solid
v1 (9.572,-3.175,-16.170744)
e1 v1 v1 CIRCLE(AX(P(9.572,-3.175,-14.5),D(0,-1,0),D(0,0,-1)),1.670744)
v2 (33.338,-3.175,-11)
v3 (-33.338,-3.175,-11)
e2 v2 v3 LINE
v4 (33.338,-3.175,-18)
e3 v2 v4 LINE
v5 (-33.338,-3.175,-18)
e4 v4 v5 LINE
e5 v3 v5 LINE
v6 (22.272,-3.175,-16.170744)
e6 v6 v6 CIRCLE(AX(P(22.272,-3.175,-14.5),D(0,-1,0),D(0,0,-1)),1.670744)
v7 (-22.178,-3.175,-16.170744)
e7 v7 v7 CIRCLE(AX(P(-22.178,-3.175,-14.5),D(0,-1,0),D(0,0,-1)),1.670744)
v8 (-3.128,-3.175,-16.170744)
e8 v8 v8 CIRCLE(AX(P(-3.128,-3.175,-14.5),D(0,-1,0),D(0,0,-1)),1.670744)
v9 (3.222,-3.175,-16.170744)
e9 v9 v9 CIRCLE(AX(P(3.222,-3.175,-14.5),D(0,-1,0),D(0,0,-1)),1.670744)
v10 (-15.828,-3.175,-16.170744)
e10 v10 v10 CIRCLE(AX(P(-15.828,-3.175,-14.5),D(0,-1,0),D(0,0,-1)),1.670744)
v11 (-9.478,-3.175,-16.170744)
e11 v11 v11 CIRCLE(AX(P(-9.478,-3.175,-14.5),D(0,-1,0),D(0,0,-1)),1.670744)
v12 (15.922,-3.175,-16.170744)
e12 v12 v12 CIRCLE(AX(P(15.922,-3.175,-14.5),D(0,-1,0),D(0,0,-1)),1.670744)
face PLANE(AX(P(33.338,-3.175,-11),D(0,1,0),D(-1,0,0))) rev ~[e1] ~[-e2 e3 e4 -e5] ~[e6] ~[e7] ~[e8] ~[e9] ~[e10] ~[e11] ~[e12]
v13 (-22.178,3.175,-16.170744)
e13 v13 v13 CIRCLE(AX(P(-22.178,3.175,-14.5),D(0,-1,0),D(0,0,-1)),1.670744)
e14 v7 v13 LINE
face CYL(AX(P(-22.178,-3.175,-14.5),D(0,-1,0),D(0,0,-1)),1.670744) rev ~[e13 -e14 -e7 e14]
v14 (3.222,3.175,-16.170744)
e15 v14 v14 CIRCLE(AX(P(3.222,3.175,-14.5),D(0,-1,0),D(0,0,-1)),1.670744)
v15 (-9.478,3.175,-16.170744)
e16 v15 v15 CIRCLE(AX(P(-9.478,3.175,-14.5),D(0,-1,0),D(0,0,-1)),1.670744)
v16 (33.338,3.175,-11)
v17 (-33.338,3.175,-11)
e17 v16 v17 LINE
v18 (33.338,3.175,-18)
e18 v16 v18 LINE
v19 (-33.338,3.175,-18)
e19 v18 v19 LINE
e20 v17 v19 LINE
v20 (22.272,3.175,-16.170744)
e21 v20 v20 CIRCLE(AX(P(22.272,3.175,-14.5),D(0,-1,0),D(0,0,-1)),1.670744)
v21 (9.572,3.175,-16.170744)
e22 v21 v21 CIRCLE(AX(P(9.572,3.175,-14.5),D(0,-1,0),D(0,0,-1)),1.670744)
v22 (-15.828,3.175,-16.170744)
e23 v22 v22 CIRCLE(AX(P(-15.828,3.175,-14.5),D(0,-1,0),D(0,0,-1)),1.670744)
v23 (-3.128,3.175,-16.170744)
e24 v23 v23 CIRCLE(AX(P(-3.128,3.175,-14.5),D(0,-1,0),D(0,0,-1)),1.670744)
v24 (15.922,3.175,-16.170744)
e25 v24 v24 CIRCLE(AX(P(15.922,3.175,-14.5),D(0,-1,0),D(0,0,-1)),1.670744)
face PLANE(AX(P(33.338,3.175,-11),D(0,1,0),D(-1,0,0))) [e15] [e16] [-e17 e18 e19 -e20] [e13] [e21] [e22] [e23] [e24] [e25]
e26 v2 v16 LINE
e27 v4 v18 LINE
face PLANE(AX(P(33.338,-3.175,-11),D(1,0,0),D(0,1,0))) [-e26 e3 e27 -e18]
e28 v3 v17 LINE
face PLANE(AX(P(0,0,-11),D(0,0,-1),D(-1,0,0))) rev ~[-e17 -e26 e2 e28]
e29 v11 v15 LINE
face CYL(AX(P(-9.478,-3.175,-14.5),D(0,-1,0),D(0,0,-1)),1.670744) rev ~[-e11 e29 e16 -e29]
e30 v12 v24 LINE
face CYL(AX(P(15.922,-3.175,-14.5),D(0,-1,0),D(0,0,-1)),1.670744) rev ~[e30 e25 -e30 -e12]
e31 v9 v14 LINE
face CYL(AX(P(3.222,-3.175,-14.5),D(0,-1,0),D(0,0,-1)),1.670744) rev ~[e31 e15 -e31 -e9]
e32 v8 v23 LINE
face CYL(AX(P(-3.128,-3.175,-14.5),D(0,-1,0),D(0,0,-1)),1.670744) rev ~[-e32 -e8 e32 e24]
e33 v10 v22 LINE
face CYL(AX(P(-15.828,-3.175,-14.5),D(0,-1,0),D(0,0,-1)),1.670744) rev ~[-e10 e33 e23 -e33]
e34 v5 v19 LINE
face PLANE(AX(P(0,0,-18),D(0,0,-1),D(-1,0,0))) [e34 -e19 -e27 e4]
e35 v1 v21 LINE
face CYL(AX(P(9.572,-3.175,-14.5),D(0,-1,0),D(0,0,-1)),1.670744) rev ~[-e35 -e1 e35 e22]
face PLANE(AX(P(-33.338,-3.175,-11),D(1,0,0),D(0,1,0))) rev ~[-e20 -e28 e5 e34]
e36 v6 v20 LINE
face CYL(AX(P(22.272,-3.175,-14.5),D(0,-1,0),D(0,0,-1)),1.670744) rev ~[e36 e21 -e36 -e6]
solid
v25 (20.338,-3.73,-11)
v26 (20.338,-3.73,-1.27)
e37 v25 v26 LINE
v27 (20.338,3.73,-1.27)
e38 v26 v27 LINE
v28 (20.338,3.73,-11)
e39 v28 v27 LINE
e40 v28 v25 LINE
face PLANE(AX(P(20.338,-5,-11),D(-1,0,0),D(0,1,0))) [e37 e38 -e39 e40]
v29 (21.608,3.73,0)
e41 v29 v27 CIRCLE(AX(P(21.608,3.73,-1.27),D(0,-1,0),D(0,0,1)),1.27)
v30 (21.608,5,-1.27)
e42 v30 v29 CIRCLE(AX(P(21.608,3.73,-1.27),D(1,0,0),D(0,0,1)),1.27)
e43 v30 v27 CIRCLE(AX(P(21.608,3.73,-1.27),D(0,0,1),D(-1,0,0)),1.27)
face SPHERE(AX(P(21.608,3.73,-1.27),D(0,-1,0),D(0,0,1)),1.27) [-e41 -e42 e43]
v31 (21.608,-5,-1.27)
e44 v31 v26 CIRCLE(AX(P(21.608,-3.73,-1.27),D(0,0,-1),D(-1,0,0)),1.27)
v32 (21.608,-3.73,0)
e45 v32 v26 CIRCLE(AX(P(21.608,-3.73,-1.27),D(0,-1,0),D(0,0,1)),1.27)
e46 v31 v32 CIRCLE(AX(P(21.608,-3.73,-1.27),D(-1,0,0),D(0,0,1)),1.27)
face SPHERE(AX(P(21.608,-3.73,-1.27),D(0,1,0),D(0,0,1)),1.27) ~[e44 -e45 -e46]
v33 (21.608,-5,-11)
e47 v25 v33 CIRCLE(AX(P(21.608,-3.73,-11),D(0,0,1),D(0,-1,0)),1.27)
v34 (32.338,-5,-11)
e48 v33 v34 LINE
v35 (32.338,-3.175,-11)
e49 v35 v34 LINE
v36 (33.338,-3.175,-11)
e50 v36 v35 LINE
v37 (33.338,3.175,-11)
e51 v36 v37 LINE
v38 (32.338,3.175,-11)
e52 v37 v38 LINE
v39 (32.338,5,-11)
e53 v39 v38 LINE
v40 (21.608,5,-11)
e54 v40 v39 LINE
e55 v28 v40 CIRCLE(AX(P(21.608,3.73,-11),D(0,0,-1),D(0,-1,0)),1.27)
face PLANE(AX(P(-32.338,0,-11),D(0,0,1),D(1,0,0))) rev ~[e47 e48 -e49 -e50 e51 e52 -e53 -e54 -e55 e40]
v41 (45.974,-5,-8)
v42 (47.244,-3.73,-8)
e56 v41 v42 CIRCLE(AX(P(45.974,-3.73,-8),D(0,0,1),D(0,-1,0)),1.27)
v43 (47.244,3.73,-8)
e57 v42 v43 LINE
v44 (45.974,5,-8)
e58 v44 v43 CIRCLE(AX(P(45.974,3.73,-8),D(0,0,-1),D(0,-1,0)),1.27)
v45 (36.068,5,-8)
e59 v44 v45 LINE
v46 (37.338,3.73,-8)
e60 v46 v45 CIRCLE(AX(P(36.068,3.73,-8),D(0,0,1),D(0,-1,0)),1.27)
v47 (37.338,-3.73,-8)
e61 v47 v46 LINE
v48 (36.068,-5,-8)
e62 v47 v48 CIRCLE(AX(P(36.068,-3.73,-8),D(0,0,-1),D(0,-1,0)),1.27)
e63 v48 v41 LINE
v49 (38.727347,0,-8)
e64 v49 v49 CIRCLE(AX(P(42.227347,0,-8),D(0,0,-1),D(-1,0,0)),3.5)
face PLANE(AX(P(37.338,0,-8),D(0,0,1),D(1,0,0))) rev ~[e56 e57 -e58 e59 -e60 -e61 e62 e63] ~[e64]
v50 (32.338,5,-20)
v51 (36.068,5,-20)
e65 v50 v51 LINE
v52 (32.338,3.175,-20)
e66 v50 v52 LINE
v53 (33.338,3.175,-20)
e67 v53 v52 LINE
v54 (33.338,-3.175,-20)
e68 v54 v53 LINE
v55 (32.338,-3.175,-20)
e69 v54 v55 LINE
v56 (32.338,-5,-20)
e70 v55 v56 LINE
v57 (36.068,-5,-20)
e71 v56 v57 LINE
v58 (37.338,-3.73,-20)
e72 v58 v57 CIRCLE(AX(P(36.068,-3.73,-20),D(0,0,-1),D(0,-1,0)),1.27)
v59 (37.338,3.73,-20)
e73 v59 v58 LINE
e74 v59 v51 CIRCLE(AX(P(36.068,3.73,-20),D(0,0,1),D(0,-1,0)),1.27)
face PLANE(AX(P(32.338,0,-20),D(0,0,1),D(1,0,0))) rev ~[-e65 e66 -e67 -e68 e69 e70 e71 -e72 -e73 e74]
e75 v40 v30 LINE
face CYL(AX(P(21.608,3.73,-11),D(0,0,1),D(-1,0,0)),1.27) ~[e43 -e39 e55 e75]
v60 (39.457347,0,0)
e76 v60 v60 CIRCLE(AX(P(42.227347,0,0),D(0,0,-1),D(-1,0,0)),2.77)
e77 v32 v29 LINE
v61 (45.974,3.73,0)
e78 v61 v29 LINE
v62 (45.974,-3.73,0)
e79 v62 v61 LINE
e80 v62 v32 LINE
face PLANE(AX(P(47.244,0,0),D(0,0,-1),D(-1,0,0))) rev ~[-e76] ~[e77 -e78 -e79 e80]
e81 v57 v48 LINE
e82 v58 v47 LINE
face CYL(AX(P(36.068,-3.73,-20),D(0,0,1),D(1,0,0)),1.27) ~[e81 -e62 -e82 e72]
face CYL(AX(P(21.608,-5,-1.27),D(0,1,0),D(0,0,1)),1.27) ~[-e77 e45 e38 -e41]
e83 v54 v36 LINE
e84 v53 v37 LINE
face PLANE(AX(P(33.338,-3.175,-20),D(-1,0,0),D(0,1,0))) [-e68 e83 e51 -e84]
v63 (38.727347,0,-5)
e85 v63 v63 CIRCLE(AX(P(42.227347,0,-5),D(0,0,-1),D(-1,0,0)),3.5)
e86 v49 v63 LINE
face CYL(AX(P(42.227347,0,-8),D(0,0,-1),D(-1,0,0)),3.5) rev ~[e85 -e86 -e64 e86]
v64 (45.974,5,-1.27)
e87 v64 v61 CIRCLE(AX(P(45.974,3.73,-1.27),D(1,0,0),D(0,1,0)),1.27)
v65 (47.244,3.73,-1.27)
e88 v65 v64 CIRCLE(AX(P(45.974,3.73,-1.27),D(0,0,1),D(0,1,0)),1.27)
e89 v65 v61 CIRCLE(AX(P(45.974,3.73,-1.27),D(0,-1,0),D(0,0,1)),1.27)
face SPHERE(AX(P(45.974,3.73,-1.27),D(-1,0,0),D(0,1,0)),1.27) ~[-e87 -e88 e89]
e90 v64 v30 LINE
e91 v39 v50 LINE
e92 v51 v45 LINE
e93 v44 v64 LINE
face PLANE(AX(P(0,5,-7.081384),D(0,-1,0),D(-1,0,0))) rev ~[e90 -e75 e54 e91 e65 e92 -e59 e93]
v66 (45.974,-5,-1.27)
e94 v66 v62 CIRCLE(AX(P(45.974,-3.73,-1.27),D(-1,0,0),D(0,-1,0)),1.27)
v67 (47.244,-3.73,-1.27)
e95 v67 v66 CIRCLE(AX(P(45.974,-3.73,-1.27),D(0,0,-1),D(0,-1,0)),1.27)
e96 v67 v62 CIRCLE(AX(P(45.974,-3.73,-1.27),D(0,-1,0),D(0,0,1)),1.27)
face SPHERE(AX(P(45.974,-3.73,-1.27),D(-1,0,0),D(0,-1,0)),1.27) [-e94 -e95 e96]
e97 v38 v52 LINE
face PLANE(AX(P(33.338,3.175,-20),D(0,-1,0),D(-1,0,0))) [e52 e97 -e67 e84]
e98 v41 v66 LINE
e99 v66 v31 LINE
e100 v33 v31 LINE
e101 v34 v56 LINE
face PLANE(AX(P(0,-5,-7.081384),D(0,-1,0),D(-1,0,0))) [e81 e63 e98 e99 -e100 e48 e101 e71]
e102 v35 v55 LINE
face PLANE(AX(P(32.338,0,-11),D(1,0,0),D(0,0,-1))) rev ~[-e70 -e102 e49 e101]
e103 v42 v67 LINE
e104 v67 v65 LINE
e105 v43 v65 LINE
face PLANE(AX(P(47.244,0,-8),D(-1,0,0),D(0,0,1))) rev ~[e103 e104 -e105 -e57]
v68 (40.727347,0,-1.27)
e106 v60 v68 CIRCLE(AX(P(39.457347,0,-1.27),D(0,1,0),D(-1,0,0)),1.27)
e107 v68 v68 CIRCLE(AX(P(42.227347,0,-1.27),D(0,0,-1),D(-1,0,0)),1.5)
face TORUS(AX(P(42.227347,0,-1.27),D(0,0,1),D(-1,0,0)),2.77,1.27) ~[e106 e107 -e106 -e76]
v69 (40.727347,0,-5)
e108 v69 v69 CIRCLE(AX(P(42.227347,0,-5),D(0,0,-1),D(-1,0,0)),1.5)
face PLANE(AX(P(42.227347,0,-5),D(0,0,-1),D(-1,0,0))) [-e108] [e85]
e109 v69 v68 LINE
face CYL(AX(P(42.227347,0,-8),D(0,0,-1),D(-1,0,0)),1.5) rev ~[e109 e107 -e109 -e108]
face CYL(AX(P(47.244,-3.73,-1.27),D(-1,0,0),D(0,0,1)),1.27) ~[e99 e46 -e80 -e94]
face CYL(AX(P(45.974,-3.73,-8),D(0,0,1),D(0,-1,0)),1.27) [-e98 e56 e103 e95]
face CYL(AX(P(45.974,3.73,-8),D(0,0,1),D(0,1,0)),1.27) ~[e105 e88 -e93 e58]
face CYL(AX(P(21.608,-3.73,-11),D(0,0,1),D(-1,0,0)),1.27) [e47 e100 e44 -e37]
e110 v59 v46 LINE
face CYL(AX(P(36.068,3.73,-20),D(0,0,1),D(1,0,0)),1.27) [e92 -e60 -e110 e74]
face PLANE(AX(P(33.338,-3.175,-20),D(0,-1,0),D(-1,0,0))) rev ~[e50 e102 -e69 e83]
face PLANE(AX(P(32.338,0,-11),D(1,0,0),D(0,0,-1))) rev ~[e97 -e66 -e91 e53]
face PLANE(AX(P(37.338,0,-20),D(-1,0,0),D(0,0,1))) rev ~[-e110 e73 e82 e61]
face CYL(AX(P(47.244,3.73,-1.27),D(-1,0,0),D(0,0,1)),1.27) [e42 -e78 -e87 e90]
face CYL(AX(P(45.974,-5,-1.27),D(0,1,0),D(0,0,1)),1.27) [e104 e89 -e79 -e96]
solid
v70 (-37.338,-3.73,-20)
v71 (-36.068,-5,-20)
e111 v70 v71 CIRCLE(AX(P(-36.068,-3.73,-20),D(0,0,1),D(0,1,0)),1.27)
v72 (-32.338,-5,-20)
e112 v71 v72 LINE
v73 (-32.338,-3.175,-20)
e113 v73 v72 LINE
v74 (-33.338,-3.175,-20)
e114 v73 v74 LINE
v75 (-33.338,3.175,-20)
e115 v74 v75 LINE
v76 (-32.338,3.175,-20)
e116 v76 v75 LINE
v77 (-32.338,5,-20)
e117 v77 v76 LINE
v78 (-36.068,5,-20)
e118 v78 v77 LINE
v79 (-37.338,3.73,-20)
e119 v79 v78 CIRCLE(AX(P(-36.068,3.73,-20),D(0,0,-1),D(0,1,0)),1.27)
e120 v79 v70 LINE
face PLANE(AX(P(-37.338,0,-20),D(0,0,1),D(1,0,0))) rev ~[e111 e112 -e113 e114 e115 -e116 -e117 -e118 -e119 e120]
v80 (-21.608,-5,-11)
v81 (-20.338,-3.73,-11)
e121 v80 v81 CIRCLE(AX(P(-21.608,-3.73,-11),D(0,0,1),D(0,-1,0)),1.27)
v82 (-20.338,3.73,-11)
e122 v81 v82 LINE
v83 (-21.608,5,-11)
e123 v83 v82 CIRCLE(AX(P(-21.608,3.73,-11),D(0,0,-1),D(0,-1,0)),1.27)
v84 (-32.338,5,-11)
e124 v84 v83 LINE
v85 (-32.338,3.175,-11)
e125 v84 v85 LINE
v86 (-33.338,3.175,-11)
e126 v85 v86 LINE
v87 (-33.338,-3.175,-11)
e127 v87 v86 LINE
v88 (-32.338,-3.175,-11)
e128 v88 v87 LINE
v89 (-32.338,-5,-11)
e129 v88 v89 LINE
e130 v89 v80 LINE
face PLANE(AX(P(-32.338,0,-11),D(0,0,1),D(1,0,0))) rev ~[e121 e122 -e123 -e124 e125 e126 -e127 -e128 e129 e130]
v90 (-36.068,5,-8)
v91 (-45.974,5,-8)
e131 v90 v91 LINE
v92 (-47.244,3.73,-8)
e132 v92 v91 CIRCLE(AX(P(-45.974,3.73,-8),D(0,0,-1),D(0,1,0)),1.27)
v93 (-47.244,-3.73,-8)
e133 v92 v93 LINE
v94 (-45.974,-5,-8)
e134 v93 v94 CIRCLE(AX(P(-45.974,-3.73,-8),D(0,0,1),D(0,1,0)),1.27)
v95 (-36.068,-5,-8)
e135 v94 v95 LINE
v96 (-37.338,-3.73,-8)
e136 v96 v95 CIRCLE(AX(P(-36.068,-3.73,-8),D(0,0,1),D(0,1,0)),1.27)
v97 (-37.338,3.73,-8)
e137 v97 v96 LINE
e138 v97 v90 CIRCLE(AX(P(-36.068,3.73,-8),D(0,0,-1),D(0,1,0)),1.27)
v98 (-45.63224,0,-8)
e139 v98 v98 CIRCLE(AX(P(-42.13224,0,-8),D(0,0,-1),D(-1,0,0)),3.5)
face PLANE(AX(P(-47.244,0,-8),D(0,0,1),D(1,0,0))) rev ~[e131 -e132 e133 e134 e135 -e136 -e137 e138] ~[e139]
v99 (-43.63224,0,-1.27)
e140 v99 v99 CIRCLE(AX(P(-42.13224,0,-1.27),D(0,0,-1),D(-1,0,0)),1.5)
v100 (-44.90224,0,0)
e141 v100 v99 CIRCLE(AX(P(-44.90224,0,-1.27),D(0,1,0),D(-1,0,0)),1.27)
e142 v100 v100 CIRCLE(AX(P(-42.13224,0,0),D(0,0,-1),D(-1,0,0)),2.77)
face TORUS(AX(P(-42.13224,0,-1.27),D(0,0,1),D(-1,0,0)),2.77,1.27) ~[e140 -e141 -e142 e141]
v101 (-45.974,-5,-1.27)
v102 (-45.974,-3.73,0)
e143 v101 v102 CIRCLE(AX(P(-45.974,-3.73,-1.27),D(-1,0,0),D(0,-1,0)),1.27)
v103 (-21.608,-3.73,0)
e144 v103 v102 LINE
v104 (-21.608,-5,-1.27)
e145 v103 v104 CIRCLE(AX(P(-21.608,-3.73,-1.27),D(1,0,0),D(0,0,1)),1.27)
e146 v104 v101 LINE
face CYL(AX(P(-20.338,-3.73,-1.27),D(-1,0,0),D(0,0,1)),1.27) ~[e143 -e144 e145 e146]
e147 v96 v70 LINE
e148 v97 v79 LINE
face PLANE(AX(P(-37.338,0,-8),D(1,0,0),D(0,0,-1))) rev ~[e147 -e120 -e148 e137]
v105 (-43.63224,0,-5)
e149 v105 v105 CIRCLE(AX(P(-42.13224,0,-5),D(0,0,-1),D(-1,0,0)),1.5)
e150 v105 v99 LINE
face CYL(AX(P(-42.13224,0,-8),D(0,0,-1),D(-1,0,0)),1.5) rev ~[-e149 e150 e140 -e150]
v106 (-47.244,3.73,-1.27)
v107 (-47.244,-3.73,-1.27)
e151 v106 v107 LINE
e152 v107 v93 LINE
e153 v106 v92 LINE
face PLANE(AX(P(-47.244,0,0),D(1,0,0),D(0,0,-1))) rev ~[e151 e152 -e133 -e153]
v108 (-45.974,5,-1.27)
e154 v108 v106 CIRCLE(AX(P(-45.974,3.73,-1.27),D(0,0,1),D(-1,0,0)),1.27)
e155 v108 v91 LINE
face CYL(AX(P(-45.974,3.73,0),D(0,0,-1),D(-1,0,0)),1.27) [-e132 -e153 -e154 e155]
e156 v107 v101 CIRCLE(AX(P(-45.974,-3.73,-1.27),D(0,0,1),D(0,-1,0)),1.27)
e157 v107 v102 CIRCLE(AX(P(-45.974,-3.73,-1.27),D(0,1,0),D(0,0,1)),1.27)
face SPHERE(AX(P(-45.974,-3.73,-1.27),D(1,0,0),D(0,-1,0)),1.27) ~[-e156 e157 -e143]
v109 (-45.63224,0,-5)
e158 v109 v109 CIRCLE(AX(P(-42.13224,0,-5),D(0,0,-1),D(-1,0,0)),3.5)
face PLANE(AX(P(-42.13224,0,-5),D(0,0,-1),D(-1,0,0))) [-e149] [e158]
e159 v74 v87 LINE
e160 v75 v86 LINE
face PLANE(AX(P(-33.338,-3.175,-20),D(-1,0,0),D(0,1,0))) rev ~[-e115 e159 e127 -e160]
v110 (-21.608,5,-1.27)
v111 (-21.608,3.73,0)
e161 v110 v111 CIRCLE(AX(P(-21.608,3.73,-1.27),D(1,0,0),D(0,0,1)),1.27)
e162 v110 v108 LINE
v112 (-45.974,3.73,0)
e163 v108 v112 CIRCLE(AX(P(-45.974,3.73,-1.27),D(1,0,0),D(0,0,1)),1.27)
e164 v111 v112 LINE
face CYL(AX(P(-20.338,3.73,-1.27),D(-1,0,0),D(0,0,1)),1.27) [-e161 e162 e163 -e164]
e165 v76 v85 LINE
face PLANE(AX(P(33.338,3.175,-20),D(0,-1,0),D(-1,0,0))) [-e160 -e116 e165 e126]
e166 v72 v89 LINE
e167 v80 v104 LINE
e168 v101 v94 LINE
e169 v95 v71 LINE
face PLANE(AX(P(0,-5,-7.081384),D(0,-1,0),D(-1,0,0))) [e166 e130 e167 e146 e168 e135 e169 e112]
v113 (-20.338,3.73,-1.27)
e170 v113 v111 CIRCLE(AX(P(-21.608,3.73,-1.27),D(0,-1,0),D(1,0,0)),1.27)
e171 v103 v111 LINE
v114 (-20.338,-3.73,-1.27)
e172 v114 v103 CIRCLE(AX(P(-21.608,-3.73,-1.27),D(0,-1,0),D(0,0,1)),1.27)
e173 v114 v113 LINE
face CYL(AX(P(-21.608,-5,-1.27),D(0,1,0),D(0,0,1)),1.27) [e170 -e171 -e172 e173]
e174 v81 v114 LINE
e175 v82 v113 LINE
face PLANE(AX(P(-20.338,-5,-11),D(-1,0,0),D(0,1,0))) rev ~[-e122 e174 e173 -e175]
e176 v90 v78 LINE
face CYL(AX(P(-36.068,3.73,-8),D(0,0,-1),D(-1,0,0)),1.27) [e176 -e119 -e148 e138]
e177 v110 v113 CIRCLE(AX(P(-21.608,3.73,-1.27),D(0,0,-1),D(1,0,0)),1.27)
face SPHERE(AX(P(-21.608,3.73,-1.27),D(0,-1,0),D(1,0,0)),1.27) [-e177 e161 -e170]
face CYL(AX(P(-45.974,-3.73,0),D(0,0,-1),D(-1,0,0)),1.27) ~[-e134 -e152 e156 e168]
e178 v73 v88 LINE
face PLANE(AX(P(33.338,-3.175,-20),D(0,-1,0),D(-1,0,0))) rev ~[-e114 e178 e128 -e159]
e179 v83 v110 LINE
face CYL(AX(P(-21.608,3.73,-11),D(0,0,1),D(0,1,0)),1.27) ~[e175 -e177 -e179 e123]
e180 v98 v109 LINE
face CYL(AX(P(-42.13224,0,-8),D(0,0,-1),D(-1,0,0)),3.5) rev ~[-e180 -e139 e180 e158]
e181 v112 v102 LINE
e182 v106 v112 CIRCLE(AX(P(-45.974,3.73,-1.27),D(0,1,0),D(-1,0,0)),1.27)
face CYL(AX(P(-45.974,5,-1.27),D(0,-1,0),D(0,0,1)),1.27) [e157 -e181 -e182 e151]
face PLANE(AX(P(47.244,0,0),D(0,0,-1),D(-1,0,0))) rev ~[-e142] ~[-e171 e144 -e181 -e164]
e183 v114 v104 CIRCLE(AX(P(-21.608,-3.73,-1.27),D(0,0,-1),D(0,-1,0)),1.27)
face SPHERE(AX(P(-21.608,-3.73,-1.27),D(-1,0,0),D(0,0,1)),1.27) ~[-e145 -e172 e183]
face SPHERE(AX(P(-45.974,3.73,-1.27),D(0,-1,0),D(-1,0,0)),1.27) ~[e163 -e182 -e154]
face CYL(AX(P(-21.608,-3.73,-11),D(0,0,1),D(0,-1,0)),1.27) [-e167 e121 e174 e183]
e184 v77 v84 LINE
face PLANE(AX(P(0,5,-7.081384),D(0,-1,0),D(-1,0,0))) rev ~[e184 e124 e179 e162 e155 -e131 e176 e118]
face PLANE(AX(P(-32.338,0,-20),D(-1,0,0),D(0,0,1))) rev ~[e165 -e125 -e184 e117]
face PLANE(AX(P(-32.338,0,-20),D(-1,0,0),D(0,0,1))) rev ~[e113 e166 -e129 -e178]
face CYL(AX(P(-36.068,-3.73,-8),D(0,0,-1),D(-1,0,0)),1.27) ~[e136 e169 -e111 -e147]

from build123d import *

# Parameters (mm, degrees)
BOSS_EXTRUDE1_DEPTH = 5
SKETCH2_W           = 40.676
SKETCH2_H           = 10
CUT_EXTRUDE1_DEPTH  = 49.76469559
SKETCH3_R           = 1.5
CUT_EXTRUDE2_DEPTH  = 49.999954449
SKETCH3_3_R         = 3.5
SKETCH3_3_R_2       = 1.5
CUT_EXTRUDE3_DEPTH  = 3
SKETCH5_W           = 66.676
SKETCH5_H           = 6.35
CUT_EXTRUDE4_DEPTH  = 9
SKETCH6_W           = 66.676
SKETCH6_H           = 6.35
BOSS_EXTRUDE2_DEPTH = 7
SKETCH7_R           = 1.670743861
CUT_EXTRUDE5_DEPTH  = 52.950227728
FILLET1_R           = 1.27
FILLET2_R           = 1.27


with BuildPart() as part:
    # Sketch1 → Boss-Extrude1 (new, symmetric)
    with BuildSketch(Plane(origin=(0, 0, 0), x_dir=(1, 0, 0), z_dir=(0, 1, 0))):
        Polygon((47.244, 0), (-47.244, 0), (-47.244, 8), (-37.338, 8), (-37.338, 20), (-32.338, 20), (-32.338, 11), (32.338, 11), (32.338, 20), (37.338, 20), (37.338, 8), (47.244, 8), align=None)
    extrude(amount=BOSS_EXTRUDE1_DEPTH, both=True)

    # Sketch2 → Cut-Extrude1 (cut, through all)
    with BuildSketch(Plane(origin=(0, 0, -11), x_dir=(-1, 0, 0), z_dir=(0, 0, -1))):
        Rectangle(SKETCH2_W, SKETCH2_H)
    extrude(amount=-CUT_EXTRUDE1_DEPTH, mode=Mode.SUBTRACT)


with BuildPart() as cut_extrude1_piece_1:
    # of the separate pieces the step leaves, piece 1, a body of its own (cut_extrude1_pieces)
    add(part.part.solids().sort_by_distance((47.244, -5, 0))[0])


with BuildPart() as cut_extrude1_piece_2:
    # of the separate pieces the step leaves, piece 2, a body of its own (cut_extrude1_pieces)
    add(part.part.solids().sort_by_distance((-20.338, 5, 0))[0])


with BuildPart() as cut_extrude2_tool:
    # Sketch3 → Cut-Extrude2 (new, through all)
    with BuildSketch(Plane(origin=(0, 0, -8), x_dir=(-1, 0, 0), z_dir=(0, 0, -1))):
        with Locations((42.132240282, 0)):
            Circle(SKETCH3_R)
        with Locations((-42.227346919, 0)):
            Circle(SKETCH3_R)
    extrude(amount=-CUT_EXTRUDE2_DEPTH)


with BuildPart() as cut_extrude1_piece_1_1:
    add(cut_extrude1_piece_1.part)

    # Cut-Extrude2: cut by cut_extrude2_tool
    add(cut_extrude2_tool.part, mode=Mode.SUBTRACT)


with BuildPart() as cut_extrude1_piece_2_1:
    add(cut_extrude1_piece_2.part)

    # Cut-Extrude2: cut by cut_extrude2_tool
    add(cut_extrude2_tool.part, mode=Mode.SUBTRACT)


with BuildPart() as cut_extrude3_tool:
    # Sketch3<3> → Cut-Extrude3 (new body)
    # profile 1 of 2: a face of its own
    with BuildSketch(Plane(origin=(0, 0, -8), x_dir=(-1, 0, 0), z_dir=(0, 0, -1))):
        with Locations((-42.227346919, 0)):
            Circle(SKETCH3_3_R)
        with Locations((-42.227346919, 0)):
            Circle(SKETCH3_3_R_2, mode=Mode.SUBTRACT)
    # profile 2 of 2: a face of its own
    with BuildSketch(Plane(origin=(0, 0, -8), x_dir=(-1, 0, 0), z_dir=(0, 0, -1))):
        with Locations((42.132240282, 0)):
            Circle(SKETCH3_3_R)
    extrude(amount=-CUT_EXTRUDE3_DEPTH)


with BuildPart() as cut_extrude1_piece_1_2:
    add(cut_extrude1_piece_1_1.part)

    # Cut-Extrude3: cut by cut_extrude3_tool
    add(cut_extrude3_tool.part, mode=Mode.SUBTRACT)


with BuildPart() as cut_extrude1_piece_2_2:
    add(cut_extrude1_piece_2_1.part)

    # Cut-Extrude3: cut by cut_extrude3_tool
    add(cut_extrude3_tool.part, mode=Mode.SUBTRACT)


with BuildPart() as cut_extrude4_tool:
    # Sketch5 → Cut-Extrude4 (new body)
    with BuildSketch(Plane(origin=(0, 0, -20), x_dir=(-1, 0, 0), z_dir=(0, 0, -1))):
        Rectangle(SKETCH5_W, SKETCH5_H)
    extrude(amount=-CUT_EXTRUDE4_DEPTH)


with BuildPart() as cut_extrude1_piece_1_3:
    add(cut_extrude1_piece_1_2.part)

    # Cut-Extrude4: cut by cut_extrude4_tool
    add(cut_extrude4_tool.part, mode=Mode.SUBTRACT)

    # Fillet1
    fillet1_edges = [cut_extrude1_piece_1_3.edges().sort_by_distance(p)[0] for p in [
        (20.338, 0, 0),
        (33.791, -5, 0),
        (33.791, 5, 0),
        (47.244, 5, -4),
        (43.727346919, 0, 0),
        (37.338, 5, -14),
        (20.338, -5, -5.5),
        (47.244, -5, -4),
        (47.244, 0, 0),
        (37.338, -5, -14),
        (20.338, 5, -5.5),
    ]]
    fillet(fillet1_edges, radius=FILLET1_R)


with BuildPart() as cut_extrude1_piece_2_3:
    add(cut_extrude1_piece_2_2.part)

    # Cut-Extrude4: cut by cut_extrude4_tool
    add(cut_extrude4_tool.part, mode=Mode.SUBTRACT)

    # Fillet2
    fillet2_edges = [cut_extrude1_piece_2_3.edges().sort_by_distance(p)[0] for p in [
        (-37.338, -5, -14),
        (-33.791, -5, 0),
        (-47.244, -5, -4),
        (-47.244, 0, 0),
        (-20.338, 0, 0),
        (-20.338, 5, -5.5),
        (-37.338, 5, -14),
        (-20.338, -5, -5.5),
        (-47.244, 5, -4),
        (-40.632240282, 0, 0),
        (-33.791, 5, 0),
    ]]
    fillet(fillet2_edges, radius=FILLET2_R)


with BuildPart() as body_3:
    # Sketch6 → Boss-Extrude2 (new body)
    with BuildSketch(Plane(origin=(0, 0, -11), x_dir=(-1, 0, 0), z_dir=(0, 0, -1))):
        Rectangle(SKETCH6_W, SKETCH6_H)
    extrude(amount=BOSS_EXTRUDE2_DEPTH)

    # Sketch7 → Cut-Extrude5 (cut, through all)
    with BuildSketch(Plane.XZ.offset(3.175)):
        with Locations(Location((-22.178, -14.5, 0), (0, 0, 270))):
            Circle(SKETCH7_R)
        with Locations(Location((-15.828, -14.5, 0), (0, 0, 270))):
            Circle(SKETCH7_R)
        with Locations(Location((-9.478, -14.5, 0), (0, 0, 270))):
            Circle(SKETCH7_R)
        with Locations(Location((-3.128, -14.5, 0), (0, 0, 270))):
            Circle(SKETCH7_R)
        with Locations(Location((3.222, -14.5, 0), (0, 0, 270))):
            Circle(SKETCH7_R)
        with Locations(Location((9.572, -14.5, 0), (0, 0, 270))):
            Circle(SKETCH7_R)
        with Locations(Location((15.922, -14.5, 0), (0, 0, 270))):
            Circle(SKETCH7_R)
        with Locations(Location((22.272, -14.5, 0), (0, 0, 270))):
            Circle(SKETCH7_R)
    extrude(amount=-CUT_EXTRUDE5_DEPTH, mode=Mode.SUBTRACT)


solid = Compound([cut_extrude1_piece_1_3.part, cut_extrude1_piece_2_3.part, body_3.part])
